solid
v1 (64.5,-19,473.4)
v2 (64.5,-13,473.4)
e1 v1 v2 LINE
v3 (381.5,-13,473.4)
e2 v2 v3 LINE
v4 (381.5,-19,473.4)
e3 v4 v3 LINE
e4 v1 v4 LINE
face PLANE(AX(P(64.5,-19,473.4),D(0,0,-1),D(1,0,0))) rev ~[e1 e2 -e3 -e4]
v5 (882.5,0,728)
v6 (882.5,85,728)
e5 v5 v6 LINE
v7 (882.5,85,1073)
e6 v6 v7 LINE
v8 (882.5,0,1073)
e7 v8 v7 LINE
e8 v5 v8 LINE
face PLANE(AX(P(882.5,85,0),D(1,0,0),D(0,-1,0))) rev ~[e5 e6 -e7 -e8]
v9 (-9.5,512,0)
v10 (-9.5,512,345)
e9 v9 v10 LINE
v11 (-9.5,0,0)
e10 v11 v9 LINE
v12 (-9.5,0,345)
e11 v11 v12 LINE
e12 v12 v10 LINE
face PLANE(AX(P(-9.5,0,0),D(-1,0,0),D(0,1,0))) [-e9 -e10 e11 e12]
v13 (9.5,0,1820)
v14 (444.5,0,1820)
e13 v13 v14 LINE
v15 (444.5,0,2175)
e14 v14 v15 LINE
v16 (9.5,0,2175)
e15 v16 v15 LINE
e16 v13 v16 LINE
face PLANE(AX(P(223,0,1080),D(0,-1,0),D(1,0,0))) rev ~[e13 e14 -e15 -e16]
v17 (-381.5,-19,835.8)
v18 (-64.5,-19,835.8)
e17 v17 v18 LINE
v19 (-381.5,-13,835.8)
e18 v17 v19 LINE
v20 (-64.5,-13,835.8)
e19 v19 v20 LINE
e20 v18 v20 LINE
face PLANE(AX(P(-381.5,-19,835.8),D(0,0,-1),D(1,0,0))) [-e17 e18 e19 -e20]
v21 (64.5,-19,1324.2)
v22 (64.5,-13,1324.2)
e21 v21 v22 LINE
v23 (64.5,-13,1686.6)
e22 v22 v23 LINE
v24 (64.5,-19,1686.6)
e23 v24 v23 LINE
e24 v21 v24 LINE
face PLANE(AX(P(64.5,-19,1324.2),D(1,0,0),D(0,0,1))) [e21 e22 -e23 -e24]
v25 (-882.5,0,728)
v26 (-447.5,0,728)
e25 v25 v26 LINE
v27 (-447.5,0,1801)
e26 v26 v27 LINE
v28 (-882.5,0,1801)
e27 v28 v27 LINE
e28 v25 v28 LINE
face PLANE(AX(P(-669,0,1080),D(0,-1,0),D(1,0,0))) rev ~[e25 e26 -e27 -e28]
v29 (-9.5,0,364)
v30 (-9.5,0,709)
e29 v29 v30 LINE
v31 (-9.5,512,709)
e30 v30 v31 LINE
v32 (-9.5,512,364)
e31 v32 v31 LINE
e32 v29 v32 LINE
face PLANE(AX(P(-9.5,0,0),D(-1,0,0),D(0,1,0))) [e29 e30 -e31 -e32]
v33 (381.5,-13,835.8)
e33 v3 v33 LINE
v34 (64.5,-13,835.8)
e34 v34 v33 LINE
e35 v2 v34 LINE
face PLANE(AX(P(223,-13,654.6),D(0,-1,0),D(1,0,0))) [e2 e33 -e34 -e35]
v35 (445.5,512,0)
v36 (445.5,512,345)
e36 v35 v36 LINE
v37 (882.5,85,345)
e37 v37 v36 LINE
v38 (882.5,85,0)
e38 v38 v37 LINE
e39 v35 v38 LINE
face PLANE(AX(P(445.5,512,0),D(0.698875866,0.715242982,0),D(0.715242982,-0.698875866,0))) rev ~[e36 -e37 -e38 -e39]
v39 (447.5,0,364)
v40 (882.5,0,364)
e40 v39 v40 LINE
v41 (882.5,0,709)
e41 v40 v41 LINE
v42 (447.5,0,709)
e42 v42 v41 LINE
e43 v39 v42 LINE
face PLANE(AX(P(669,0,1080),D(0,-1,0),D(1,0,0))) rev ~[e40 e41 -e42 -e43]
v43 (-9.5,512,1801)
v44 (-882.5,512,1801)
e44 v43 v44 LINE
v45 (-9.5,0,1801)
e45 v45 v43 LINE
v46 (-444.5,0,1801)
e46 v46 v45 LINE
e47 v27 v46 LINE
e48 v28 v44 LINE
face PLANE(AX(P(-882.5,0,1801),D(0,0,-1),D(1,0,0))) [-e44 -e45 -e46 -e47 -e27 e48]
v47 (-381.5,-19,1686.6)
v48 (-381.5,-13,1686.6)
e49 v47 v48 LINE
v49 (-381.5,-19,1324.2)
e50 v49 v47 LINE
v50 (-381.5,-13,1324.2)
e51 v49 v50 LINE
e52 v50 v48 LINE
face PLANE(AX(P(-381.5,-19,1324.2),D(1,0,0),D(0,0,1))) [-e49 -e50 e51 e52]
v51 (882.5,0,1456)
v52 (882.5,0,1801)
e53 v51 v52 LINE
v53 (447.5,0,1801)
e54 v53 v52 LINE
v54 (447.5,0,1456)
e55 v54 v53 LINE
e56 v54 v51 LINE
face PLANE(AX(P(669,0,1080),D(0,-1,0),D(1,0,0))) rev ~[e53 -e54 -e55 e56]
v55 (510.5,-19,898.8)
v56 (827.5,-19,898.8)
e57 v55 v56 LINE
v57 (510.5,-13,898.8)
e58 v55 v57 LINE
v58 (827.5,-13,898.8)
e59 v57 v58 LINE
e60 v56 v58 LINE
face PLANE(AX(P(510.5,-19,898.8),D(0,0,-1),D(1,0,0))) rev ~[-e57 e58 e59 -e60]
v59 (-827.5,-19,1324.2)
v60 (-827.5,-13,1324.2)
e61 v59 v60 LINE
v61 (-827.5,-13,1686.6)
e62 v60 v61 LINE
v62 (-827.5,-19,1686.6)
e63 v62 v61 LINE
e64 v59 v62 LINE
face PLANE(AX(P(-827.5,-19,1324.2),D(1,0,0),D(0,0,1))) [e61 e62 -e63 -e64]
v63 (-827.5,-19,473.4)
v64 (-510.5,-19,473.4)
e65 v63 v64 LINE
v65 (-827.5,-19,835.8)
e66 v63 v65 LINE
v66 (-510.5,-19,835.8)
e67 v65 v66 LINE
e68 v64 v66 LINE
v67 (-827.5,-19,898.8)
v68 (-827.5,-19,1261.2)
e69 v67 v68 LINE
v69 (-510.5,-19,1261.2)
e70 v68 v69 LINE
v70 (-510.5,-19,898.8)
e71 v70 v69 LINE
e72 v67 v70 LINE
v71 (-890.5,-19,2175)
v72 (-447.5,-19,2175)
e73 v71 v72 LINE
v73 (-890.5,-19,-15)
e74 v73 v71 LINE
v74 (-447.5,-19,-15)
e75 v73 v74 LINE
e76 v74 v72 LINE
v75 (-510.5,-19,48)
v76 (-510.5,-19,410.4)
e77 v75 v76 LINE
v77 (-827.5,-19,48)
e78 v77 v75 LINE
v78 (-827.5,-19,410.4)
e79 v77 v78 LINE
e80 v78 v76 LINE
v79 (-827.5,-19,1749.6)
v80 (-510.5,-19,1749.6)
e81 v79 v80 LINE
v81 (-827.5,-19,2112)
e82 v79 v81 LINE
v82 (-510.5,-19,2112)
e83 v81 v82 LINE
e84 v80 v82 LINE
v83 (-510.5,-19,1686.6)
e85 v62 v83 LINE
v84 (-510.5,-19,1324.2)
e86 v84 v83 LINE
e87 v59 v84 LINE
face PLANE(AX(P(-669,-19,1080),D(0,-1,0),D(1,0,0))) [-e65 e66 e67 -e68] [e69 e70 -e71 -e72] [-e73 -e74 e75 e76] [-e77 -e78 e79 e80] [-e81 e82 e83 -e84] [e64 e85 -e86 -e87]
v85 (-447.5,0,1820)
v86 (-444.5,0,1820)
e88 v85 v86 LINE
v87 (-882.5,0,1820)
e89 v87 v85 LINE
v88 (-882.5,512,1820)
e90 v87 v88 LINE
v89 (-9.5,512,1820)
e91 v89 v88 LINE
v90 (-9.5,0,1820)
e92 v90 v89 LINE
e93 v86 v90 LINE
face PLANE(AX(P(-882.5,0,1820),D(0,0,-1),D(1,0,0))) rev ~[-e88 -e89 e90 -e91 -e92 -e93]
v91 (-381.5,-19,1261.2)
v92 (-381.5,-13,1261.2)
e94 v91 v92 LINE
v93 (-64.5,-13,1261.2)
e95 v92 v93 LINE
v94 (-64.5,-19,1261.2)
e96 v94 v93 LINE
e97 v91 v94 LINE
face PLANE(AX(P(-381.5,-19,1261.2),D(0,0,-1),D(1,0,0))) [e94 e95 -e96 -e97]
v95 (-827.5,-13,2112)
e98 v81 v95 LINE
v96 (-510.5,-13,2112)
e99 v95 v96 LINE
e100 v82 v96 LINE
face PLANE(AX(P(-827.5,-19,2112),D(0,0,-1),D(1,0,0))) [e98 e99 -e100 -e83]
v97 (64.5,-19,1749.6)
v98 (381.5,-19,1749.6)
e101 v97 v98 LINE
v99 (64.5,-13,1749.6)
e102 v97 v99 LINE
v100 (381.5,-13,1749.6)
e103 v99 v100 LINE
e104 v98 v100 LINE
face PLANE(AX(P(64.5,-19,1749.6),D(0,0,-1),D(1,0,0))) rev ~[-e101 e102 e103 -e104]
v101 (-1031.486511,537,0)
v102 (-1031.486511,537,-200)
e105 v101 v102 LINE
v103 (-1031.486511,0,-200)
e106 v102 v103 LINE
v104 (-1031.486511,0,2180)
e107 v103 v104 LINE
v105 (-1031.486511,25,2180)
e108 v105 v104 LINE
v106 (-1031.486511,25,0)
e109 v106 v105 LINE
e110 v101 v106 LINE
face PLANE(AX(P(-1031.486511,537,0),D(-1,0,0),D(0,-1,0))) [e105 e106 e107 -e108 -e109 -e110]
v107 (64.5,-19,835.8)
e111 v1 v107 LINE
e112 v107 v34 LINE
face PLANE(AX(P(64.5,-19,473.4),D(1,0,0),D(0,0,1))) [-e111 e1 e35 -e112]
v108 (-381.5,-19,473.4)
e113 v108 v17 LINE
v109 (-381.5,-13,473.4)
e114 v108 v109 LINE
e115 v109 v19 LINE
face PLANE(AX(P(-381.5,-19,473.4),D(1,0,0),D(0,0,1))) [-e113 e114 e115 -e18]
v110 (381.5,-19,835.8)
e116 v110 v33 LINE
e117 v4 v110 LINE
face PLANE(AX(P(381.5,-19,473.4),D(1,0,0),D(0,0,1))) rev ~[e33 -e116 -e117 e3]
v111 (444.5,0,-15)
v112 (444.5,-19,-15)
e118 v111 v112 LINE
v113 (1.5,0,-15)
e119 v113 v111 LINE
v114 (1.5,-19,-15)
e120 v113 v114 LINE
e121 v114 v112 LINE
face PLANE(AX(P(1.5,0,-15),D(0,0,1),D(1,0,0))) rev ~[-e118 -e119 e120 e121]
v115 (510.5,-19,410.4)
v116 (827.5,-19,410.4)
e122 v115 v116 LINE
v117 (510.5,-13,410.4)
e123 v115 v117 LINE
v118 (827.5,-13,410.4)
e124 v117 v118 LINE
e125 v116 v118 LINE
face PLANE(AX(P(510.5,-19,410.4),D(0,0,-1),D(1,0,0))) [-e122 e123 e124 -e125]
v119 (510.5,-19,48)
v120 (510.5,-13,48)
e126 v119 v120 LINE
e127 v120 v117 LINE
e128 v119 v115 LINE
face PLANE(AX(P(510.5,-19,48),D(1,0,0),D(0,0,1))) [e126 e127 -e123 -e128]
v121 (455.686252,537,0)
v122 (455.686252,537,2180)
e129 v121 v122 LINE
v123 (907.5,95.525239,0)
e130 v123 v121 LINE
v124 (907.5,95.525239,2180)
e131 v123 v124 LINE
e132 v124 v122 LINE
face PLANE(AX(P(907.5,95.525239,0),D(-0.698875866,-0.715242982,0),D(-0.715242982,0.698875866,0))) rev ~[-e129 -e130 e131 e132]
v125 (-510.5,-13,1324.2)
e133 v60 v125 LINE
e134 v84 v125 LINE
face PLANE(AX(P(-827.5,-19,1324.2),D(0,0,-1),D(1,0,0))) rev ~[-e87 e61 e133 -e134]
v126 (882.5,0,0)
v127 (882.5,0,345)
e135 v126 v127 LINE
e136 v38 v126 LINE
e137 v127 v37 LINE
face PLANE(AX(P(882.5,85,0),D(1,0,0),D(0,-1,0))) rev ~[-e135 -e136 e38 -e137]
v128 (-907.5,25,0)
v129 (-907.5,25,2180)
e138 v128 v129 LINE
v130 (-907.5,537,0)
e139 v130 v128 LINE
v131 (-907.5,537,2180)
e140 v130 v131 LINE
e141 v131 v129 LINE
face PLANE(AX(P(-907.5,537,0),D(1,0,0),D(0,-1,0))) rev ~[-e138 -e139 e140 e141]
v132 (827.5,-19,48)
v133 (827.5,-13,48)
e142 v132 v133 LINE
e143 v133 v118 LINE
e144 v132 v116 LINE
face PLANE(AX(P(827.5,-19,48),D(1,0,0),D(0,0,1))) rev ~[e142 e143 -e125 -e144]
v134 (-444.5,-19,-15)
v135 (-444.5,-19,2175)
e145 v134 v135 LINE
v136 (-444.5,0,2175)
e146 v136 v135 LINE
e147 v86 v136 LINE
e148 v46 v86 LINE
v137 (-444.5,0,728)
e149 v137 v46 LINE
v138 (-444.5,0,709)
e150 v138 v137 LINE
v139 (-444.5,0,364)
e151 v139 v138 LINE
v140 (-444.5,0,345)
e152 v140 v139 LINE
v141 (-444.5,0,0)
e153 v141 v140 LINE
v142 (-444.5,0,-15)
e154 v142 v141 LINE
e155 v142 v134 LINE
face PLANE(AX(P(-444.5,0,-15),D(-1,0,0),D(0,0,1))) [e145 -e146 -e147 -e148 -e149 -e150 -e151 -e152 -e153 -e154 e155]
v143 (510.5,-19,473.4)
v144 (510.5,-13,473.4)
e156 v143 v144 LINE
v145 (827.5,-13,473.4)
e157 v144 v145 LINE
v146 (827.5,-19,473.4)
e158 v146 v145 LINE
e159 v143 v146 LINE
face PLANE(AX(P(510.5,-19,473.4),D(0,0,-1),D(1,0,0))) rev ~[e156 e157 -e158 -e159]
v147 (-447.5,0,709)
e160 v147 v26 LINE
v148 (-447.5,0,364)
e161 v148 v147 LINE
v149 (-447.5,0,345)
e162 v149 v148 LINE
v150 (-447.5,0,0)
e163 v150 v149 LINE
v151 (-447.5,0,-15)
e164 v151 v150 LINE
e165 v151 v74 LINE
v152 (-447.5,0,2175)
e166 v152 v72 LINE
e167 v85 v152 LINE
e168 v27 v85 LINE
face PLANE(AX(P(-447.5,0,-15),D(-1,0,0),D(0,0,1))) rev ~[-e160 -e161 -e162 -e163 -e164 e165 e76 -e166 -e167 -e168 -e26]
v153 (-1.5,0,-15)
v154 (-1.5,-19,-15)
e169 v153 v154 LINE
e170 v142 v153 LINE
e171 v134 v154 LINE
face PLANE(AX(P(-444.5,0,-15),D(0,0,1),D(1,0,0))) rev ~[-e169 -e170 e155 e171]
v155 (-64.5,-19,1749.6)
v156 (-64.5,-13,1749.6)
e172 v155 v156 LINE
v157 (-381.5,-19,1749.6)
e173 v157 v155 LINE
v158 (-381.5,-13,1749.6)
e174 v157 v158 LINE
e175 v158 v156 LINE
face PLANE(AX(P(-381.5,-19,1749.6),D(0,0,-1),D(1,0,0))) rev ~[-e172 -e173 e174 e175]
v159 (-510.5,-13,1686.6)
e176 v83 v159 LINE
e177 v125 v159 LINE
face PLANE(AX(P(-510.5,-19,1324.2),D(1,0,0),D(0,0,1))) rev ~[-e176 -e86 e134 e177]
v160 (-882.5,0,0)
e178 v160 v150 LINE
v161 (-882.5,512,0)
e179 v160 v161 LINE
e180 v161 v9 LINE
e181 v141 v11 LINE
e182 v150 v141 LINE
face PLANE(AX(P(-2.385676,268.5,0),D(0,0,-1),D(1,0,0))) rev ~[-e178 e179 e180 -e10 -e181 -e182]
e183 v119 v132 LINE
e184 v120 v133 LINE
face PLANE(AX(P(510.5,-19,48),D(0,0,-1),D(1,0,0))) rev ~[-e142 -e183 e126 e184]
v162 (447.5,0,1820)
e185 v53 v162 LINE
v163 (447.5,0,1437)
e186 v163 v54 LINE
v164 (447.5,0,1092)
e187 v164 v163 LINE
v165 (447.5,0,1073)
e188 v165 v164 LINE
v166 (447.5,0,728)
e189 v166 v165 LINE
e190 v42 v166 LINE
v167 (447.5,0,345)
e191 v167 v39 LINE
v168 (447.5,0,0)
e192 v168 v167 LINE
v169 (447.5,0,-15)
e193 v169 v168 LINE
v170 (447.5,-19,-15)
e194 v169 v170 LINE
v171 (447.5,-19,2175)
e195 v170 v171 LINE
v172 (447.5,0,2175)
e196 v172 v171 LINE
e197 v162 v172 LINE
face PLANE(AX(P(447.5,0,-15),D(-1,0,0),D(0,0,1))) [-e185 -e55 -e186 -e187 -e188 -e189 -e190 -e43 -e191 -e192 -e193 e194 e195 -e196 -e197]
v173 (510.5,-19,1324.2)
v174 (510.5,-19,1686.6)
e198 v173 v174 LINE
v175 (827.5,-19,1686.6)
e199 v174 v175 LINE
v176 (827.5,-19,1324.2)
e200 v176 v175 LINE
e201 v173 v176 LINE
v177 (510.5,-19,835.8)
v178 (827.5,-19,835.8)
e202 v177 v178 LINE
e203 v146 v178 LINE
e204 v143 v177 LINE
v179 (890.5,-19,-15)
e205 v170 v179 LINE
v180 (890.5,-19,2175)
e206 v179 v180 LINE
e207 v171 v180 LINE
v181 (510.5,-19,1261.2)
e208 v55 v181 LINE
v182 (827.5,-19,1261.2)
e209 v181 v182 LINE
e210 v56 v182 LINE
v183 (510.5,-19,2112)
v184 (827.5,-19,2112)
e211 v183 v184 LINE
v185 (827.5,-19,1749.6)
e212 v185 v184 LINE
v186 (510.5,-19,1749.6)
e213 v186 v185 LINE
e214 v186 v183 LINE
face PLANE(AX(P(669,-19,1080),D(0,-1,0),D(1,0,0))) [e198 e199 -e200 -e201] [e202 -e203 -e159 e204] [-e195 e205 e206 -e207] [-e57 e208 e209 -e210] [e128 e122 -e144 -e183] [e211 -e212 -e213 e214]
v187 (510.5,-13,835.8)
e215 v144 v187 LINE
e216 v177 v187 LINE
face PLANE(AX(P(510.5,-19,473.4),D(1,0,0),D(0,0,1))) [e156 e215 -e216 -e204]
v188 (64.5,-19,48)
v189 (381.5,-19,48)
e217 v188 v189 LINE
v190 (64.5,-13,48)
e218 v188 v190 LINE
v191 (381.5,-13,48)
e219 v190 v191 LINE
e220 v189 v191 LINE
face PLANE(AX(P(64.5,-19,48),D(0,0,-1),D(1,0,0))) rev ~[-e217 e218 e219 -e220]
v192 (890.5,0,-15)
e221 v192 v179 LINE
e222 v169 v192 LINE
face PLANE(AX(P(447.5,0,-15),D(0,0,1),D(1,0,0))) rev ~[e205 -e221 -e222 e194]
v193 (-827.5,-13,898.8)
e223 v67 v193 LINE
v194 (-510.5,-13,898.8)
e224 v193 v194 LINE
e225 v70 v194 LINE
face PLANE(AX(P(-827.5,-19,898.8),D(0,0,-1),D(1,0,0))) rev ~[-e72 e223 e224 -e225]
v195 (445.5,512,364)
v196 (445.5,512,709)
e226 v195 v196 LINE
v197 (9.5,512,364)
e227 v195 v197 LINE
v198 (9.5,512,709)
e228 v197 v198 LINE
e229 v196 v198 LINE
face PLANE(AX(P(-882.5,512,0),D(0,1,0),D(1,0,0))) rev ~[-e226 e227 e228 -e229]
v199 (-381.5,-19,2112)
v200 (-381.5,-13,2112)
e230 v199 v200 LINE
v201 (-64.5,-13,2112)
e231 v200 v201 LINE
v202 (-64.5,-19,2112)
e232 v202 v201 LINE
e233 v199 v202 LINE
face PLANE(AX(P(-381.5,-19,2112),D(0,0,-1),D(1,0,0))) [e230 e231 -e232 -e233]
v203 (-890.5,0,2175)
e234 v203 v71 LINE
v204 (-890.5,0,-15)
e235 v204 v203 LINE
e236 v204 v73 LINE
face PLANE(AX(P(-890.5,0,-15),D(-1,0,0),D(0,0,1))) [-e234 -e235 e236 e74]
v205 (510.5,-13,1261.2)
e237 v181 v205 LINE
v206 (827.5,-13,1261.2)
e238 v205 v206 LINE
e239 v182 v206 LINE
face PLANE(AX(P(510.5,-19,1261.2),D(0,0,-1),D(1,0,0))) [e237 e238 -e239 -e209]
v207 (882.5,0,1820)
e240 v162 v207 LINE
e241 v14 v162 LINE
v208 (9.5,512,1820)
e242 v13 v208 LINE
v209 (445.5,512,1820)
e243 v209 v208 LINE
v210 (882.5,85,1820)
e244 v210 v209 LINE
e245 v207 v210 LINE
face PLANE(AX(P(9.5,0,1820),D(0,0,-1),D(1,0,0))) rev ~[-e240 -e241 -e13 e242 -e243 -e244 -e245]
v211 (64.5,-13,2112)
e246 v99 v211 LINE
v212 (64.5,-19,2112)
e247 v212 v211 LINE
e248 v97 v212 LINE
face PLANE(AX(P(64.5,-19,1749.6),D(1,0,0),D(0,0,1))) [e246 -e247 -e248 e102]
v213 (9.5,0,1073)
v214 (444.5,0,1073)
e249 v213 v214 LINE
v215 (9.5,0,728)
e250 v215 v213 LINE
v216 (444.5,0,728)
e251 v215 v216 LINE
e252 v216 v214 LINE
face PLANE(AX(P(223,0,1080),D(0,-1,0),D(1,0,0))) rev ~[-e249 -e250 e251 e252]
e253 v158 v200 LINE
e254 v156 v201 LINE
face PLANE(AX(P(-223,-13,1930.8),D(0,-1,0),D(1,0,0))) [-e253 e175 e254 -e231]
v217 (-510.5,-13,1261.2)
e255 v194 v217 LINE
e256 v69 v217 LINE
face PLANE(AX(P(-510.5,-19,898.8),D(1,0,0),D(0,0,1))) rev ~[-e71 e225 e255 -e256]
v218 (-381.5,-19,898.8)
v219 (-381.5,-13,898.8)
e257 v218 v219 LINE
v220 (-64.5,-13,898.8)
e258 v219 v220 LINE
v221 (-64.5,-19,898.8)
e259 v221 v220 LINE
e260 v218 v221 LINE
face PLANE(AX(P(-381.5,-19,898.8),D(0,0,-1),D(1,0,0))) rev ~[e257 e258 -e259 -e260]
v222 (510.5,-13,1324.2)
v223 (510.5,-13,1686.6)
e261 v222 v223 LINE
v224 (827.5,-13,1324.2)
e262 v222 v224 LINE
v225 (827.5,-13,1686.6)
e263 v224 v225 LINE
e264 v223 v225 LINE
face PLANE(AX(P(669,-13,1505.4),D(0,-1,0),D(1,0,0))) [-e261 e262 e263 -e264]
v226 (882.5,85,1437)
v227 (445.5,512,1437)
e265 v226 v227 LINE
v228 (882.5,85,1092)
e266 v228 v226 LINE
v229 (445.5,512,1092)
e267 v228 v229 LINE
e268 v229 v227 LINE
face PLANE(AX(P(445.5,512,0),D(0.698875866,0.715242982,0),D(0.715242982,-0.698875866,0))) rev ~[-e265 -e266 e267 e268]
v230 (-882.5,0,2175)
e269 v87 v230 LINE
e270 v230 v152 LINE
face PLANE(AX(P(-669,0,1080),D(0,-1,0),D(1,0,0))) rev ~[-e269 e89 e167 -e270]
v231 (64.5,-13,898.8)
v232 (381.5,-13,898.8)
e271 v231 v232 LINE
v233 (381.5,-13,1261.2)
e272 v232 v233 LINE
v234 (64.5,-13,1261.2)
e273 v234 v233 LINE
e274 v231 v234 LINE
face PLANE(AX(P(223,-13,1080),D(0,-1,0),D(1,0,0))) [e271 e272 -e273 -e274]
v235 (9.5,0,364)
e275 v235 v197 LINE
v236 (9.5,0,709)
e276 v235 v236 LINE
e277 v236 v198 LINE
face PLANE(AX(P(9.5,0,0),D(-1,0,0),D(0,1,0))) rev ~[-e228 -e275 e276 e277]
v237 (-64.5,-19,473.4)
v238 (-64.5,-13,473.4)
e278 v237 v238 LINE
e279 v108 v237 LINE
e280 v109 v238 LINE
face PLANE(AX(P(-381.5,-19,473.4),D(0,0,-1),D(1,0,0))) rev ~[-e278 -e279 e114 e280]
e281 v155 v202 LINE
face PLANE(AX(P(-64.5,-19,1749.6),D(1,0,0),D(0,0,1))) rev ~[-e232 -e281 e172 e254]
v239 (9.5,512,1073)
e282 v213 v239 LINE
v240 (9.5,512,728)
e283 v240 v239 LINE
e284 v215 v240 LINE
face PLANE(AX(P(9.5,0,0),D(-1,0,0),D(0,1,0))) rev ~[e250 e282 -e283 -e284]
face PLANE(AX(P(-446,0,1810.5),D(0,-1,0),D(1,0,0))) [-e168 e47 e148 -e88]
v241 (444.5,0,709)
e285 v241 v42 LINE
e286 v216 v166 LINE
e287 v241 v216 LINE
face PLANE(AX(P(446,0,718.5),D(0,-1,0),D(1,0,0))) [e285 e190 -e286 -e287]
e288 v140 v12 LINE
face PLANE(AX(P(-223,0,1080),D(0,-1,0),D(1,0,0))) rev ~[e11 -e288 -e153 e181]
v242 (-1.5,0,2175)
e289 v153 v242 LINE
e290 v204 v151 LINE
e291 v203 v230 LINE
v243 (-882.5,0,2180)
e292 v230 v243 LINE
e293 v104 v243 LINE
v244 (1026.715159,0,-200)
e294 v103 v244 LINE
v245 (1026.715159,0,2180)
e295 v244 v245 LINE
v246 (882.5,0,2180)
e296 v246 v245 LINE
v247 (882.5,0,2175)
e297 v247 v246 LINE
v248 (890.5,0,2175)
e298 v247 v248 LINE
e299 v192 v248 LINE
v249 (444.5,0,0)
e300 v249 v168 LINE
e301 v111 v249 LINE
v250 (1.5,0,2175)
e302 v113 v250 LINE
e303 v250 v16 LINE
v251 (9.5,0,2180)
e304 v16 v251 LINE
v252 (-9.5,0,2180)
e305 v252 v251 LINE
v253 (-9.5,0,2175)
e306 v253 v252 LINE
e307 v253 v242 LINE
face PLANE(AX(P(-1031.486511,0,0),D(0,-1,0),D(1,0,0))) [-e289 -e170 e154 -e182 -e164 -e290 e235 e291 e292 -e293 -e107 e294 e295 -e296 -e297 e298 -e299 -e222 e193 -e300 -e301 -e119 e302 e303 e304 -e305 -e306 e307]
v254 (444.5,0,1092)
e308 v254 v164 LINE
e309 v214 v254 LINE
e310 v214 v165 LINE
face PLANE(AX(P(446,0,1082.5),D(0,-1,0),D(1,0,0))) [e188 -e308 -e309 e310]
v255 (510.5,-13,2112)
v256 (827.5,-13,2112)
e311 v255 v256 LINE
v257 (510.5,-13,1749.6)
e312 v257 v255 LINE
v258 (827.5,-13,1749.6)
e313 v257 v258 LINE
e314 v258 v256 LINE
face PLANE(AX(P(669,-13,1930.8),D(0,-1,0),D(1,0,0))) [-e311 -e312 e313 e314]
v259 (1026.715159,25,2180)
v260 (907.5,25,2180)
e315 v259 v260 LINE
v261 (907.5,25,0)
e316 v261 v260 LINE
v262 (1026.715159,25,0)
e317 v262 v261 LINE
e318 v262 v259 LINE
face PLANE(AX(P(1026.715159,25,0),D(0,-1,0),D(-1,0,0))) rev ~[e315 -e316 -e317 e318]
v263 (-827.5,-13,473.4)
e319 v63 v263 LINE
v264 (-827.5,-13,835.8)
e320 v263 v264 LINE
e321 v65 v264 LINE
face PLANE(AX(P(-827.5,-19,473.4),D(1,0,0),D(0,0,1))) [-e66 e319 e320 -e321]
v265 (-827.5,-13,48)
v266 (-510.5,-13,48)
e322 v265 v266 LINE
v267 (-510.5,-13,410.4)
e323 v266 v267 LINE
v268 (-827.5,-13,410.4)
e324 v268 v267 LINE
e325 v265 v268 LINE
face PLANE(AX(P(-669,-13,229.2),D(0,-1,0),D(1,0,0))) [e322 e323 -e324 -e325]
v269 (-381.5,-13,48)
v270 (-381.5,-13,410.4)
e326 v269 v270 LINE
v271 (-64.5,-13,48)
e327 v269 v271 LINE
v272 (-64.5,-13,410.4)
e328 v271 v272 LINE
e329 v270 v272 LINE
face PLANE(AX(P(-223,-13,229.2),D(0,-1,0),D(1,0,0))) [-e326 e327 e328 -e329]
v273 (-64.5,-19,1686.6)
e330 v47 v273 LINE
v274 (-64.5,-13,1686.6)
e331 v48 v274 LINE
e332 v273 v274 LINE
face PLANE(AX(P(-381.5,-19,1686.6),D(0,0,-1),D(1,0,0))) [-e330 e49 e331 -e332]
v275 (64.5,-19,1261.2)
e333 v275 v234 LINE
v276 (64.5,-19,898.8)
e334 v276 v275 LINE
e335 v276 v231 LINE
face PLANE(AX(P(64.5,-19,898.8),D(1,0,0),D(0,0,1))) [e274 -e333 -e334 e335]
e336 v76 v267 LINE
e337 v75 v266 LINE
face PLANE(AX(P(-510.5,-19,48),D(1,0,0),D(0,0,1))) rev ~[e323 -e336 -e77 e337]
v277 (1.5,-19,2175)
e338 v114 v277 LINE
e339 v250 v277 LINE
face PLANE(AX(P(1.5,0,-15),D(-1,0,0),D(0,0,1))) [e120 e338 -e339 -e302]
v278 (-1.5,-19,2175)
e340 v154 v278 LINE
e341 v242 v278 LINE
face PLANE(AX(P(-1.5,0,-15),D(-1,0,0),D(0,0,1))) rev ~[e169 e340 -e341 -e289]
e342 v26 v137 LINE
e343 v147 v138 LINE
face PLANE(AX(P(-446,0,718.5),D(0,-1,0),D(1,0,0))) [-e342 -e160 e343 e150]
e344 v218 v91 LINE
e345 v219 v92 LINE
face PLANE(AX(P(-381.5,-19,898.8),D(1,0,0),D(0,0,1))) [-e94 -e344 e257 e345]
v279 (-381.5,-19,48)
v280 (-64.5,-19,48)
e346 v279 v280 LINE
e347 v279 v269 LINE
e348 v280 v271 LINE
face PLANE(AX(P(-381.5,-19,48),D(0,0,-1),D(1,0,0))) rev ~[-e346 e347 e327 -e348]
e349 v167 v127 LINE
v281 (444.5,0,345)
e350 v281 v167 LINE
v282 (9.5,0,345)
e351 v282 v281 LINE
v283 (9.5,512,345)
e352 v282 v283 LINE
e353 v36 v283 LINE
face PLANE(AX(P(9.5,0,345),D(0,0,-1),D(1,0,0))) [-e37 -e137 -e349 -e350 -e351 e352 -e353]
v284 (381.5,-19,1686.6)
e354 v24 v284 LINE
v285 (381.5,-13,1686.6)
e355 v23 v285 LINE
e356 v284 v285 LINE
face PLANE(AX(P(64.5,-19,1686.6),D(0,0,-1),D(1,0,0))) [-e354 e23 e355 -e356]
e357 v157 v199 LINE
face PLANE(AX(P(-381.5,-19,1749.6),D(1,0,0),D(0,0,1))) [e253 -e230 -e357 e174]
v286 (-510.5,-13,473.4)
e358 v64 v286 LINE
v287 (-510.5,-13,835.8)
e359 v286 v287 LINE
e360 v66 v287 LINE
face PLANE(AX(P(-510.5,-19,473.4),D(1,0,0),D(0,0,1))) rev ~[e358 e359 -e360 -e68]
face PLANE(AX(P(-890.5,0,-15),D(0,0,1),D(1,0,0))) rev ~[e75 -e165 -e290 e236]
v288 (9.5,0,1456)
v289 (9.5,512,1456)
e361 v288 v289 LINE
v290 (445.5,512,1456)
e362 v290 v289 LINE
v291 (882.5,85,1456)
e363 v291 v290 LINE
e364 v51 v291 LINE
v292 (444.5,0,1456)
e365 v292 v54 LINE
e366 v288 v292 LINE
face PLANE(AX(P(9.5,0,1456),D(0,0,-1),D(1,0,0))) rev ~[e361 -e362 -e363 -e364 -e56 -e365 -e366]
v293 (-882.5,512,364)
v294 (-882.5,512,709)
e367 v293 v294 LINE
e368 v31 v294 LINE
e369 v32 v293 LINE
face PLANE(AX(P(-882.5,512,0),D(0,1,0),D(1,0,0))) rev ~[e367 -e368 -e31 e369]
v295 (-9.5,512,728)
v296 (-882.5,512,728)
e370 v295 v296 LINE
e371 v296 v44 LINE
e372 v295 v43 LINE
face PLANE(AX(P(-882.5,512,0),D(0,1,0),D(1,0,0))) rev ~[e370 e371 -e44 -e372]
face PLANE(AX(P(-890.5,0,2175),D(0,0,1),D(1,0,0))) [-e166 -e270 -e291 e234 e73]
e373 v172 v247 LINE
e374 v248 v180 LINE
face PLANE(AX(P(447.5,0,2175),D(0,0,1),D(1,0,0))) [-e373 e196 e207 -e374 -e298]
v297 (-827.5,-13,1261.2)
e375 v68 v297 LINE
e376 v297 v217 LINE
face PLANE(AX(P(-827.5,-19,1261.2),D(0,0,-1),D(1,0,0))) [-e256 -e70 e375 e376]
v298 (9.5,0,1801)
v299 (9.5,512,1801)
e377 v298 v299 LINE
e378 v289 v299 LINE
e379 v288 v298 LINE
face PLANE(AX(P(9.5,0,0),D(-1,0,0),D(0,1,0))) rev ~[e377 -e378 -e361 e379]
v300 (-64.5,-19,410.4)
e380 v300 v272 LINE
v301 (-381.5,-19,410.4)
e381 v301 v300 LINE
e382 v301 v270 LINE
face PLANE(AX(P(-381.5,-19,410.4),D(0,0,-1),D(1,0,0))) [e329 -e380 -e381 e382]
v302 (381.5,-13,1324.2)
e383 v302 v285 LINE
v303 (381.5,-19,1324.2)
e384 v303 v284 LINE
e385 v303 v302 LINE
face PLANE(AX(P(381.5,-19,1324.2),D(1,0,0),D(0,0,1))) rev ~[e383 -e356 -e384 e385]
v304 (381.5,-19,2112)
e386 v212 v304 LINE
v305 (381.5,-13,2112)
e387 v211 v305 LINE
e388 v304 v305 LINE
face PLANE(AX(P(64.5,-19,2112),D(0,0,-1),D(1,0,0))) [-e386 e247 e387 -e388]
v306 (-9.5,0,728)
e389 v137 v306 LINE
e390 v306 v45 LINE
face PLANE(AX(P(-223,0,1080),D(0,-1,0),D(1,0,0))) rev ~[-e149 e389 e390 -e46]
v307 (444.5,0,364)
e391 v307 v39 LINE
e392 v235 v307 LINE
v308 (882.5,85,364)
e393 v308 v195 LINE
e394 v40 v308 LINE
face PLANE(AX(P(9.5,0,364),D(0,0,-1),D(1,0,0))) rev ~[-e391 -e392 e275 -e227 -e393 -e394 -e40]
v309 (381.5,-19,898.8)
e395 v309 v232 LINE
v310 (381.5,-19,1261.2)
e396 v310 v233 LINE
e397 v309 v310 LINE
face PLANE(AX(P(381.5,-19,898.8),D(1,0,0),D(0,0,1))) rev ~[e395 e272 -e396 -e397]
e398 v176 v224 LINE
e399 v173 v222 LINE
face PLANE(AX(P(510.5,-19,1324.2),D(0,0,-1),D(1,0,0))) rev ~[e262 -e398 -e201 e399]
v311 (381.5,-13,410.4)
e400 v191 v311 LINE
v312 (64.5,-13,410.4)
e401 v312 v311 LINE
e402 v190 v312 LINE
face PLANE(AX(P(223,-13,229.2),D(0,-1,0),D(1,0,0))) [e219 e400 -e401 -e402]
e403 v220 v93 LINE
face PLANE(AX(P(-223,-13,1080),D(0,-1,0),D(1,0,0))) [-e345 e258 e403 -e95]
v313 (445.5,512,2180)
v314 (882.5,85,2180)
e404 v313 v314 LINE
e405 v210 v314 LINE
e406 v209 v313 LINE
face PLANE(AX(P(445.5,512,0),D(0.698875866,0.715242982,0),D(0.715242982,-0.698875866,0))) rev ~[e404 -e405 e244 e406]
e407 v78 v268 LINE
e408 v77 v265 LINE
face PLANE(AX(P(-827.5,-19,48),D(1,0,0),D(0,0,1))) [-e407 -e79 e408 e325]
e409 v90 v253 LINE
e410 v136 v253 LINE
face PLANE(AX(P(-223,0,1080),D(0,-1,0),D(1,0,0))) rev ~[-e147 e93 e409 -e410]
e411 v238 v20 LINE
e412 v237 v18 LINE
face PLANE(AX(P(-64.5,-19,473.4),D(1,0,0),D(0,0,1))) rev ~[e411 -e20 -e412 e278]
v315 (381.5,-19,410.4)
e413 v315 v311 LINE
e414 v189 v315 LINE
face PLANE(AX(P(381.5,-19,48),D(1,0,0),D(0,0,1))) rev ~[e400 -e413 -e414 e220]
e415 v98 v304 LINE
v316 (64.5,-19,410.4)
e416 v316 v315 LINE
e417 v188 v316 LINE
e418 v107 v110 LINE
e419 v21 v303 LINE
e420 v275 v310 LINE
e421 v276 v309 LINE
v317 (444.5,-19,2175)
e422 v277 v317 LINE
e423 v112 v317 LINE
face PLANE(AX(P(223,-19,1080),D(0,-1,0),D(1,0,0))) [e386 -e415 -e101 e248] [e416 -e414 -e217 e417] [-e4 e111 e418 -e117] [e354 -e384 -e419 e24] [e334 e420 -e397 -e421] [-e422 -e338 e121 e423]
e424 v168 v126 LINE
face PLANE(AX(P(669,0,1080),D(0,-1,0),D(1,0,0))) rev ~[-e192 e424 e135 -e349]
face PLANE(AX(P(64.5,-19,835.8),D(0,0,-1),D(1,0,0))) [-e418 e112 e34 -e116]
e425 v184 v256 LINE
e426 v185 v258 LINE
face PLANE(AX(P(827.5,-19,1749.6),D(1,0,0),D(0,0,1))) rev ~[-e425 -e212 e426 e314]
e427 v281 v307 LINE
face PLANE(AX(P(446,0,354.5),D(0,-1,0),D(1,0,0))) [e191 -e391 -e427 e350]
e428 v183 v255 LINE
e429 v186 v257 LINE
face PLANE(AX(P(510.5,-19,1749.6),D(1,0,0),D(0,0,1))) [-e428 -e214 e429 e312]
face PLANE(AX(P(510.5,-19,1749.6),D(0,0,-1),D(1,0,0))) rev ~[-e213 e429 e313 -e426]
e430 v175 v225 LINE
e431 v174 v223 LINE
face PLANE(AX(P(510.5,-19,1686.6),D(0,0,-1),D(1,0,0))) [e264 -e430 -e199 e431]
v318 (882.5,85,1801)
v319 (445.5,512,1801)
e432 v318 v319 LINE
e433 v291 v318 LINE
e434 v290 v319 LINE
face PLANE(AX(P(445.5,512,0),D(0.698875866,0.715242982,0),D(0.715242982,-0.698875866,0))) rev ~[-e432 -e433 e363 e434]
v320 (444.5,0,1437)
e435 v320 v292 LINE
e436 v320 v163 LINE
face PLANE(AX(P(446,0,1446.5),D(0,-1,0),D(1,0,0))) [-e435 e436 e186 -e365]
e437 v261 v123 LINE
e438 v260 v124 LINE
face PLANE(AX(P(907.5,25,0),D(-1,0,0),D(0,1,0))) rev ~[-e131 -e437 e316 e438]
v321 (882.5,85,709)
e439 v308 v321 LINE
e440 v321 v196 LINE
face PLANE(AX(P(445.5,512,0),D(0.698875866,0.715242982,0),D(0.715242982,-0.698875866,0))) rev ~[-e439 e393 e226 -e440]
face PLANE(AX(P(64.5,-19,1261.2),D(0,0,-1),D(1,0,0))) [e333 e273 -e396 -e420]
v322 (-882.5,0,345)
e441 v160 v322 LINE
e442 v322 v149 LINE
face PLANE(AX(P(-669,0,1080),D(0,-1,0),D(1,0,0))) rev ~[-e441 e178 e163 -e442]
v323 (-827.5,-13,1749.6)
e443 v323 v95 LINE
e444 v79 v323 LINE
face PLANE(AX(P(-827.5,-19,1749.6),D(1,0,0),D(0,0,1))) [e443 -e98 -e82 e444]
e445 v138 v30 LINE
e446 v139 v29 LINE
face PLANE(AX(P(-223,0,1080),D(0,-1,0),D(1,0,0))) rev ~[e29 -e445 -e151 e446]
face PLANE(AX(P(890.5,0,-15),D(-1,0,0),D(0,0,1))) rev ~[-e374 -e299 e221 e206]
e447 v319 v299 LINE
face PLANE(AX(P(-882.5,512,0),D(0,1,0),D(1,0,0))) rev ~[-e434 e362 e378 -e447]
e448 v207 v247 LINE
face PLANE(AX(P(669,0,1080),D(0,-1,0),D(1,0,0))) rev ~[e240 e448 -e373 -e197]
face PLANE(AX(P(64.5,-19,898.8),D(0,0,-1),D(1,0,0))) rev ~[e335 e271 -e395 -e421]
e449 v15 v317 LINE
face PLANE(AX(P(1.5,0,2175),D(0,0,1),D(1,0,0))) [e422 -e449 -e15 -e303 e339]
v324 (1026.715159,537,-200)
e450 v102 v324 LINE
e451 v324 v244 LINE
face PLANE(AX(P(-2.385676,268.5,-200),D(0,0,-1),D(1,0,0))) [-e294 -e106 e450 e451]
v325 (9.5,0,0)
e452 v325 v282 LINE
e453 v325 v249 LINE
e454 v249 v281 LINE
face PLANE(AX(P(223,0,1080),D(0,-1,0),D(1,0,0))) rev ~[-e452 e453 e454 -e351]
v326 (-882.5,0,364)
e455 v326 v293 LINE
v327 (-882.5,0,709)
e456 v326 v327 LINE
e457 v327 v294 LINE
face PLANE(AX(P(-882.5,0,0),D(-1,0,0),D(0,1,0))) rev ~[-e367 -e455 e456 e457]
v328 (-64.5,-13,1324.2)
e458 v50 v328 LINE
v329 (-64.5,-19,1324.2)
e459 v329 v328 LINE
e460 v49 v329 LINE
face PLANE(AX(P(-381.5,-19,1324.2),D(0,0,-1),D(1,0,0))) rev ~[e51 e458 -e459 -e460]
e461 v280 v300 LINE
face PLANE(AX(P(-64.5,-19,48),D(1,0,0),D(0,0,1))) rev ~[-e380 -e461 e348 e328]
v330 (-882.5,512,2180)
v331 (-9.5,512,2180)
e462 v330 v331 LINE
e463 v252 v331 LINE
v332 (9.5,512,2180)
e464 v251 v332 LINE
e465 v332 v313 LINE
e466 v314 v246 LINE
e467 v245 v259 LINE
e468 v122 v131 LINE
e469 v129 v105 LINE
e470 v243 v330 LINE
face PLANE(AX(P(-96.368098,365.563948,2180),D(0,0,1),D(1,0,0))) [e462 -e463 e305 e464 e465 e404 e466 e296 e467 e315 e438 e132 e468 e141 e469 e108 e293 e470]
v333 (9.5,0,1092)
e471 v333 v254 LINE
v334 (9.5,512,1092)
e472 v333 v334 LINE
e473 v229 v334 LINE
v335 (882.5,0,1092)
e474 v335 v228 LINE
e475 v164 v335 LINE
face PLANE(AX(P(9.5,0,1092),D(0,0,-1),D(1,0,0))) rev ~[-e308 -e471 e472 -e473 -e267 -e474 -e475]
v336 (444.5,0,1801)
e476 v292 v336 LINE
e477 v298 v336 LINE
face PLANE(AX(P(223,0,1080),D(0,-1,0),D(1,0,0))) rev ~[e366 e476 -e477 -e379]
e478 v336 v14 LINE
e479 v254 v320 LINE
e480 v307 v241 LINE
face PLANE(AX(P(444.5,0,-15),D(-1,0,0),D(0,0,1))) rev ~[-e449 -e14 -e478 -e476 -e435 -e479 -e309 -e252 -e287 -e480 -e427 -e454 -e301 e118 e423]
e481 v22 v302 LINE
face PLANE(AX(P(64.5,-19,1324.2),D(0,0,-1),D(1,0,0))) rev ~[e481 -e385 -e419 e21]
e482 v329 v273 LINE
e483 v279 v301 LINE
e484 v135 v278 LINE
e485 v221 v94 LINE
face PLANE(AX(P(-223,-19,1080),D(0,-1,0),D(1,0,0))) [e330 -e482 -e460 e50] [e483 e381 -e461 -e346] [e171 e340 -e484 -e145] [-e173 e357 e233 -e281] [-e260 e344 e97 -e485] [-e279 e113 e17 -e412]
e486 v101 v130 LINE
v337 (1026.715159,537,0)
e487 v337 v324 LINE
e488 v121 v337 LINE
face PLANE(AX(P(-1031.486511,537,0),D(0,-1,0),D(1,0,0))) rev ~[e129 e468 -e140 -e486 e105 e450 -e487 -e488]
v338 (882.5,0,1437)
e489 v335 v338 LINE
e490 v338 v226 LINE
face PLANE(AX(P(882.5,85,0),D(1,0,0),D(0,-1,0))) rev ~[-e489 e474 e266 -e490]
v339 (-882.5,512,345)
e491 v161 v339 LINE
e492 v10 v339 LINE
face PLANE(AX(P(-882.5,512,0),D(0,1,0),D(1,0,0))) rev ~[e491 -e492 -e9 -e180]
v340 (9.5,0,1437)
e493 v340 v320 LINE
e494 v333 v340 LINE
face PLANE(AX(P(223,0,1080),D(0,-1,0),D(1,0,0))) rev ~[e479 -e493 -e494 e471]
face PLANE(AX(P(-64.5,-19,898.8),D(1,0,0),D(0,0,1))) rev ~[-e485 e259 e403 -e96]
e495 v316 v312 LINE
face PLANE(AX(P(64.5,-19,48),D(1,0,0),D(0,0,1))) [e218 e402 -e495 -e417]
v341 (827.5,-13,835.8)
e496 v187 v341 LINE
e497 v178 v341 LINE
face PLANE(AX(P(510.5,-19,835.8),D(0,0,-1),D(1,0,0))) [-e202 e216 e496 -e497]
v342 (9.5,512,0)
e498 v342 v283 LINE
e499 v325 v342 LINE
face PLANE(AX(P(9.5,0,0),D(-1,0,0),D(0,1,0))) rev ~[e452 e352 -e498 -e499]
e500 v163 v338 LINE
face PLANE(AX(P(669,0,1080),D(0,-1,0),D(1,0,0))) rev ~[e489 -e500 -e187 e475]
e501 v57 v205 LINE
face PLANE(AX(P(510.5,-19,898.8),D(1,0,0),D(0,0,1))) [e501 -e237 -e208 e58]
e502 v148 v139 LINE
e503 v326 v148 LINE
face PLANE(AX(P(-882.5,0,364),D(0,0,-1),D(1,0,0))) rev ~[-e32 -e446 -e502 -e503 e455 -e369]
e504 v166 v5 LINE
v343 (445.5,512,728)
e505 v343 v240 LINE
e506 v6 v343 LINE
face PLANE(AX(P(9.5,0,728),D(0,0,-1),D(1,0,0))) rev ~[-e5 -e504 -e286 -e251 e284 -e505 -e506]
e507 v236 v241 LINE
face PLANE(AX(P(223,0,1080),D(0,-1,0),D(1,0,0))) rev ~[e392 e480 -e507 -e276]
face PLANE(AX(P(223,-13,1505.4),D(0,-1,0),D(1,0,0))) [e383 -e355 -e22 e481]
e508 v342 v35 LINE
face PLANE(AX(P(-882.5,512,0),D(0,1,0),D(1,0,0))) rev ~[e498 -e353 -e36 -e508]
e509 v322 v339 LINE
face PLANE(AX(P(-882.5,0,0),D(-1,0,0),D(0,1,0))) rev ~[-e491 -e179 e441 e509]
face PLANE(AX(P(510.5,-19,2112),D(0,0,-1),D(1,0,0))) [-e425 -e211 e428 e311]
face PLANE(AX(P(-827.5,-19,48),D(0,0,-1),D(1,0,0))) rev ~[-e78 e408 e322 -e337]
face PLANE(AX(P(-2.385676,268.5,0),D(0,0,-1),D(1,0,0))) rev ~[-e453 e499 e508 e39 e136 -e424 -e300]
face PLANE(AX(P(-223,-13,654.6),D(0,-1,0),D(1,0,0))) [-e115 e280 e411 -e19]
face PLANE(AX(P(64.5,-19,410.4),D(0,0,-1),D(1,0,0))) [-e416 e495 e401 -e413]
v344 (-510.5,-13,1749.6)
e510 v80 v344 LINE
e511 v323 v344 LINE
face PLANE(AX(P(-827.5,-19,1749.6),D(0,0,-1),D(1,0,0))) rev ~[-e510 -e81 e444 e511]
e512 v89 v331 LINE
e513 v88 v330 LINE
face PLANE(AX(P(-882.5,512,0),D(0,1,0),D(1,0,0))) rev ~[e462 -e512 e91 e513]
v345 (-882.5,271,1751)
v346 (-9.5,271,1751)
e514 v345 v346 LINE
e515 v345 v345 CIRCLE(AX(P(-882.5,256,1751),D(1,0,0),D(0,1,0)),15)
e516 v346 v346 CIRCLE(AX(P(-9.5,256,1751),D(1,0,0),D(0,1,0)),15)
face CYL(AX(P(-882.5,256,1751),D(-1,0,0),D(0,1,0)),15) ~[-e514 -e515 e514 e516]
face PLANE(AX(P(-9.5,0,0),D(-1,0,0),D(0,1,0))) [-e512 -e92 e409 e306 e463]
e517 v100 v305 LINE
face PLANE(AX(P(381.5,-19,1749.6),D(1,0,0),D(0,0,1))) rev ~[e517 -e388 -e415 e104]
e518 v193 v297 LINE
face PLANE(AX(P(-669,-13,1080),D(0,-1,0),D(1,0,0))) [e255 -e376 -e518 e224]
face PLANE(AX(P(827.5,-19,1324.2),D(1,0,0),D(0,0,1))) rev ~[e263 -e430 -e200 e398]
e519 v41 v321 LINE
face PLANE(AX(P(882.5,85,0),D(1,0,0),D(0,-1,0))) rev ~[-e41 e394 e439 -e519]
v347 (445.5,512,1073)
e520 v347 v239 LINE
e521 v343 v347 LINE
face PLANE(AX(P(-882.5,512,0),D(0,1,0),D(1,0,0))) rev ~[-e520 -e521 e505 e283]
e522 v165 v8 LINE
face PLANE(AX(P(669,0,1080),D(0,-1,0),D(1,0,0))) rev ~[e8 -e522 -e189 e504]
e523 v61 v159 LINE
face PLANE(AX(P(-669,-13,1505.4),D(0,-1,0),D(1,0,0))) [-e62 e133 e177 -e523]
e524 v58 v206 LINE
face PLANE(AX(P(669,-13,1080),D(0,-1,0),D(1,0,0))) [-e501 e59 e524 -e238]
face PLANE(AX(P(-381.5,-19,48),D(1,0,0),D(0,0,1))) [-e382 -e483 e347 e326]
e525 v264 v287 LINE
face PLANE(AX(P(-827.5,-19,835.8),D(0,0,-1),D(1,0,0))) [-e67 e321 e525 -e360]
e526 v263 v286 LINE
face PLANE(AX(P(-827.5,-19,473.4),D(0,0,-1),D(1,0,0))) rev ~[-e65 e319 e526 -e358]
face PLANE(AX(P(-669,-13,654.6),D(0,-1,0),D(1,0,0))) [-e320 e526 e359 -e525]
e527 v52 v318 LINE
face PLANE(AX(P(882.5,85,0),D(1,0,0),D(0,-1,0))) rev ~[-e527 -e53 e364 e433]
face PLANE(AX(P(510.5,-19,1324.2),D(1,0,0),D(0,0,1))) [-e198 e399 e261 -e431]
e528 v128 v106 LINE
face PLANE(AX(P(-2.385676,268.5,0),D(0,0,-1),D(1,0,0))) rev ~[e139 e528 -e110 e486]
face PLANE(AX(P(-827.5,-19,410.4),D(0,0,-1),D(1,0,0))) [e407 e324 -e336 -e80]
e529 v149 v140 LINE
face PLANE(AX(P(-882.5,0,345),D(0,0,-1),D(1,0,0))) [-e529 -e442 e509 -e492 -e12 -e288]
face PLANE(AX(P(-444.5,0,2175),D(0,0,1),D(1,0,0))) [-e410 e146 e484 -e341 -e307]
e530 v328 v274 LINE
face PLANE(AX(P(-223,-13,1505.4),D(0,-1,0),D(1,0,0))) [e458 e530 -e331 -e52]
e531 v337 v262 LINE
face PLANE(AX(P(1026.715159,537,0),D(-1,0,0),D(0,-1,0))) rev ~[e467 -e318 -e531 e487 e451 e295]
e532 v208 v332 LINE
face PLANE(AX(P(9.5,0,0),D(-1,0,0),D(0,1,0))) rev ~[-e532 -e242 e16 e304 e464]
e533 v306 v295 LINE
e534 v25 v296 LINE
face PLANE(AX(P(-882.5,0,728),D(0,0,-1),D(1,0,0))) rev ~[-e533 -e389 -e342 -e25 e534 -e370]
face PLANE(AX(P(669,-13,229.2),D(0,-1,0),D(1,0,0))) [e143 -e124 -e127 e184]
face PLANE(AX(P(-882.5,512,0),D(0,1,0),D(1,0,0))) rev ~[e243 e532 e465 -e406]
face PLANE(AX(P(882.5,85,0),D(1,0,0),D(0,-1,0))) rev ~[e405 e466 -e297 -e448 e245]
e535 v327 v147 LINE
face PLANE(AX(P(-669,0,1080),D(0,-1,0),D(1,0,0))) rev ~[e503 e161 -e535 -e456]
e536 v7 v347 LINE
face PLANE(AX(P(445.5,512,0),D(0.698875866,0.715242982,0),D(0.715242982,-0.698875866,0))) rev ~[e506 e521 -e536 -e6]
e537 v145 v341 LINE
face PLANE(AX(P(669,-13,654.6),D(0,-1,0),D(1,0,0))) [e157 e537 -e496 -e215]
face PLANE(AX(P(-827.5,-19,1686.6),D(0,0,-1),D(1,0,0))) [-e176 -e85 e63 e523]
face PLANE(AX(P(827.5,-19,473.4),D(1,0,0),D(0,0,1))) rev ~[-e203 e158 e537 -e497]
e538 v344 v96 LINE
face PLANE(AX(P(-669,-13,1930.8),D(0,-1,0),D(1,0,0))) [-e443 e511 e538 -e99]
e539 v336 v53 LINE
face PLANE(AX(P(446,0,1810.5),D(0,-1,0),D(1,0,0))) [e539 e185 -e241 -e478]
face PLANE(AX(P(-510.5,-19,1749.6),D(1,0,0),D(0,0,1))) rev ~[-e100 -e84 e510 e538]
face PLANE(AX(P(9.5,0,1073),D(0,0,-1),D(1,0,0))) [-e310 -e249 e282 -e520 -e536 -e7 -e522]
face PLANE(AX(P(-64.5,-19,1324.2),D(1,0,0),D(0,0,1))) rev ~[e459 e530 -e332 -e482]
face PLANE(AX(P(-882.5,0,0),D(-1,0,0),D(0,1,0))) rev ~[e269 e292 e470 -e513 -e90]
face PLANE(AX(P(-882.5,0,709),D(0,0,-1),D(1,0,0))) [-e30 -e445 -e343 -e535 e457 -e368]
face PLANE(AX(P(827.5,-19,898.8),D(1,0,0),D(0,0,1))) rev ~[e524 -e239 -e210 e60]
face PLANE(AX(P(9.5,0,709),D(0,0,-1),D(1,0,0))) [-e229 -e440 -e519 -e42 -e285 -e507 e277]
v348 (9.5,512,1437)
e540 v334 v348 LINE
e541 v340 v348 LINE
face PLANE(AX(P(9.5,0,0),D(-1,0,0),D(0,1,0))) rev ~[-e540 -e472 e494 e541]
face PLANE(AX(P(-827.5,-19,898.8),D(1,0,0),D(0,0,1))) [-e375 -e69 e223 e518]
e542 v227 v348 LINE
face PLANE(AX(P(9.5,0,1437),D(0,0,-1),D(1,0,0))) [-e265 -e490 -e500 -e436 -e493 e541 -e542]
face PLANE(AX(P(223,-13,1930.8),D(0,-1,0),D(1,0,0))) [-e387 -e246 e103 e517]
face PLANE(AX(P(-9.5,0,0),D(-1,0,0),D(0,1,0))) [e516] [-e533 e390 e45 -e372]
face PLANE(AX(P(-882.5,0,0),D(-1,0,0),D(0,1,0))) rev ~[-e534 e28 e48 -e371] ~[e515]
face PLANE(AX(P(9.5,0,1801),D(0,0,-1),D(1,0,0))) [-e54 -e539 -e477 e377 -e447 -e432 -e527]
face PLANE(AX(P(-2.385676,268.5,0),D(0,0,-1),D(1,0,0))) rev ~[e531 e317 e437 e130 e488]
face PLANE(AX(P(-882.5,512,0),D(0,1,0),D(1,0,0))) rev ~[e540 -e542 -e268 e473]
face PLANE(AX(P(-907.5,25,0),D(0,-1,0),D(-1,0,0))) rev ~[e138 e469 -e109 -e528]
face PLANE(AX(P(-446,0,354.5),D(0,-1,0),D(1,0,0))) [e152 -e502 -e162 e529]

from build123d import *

# Parameters (mm, degrees)
F1_DEPTH  = 2180
F2_W      = 2058.2016706467
F2_H      = 537
F3_DEPTH  = 200
F4_W      = 19
F4_H      = 512
F5_DEPTH  = 2180
F6_W      = 443
F6_H      = 2190
F7_DEPTH  = 19
F8_W      = 317
F8_H      = 362.4
F9_DEPTH  = 6
F10_W     = 873
F10_H     = 19
F12_R     = 15
F13_DEPTH = 873


with BuildPart() as f1:
    # F0 (on Top) → F1 (new body)
    with BuildSketch(Plane.XY):
        Polygon((-1031.4865112305, 0), (-882.5, 0), (-882.5, 512), (445.5, 512), (882.5, 85), (882.5, 0), (1026.7151594162, 0), (1026.7151594162, 25), (907.5, 25), (907.5, 95.5252390221), (455.6862516456, 537), (-907.5, 537), (-907.5, 25), (-1031.4865112305, 25), align=None)
    extrude(amount=F1_DEPTH)

    # F2 (on face) → F3 (join)
    with BuildSketch(Plane(origin=(0, 0, 0), x_dir=(1, 0, 0), z_dir=(0, 0, -1))):
        with Locations((-2.3856759071, -268.5)):
            Rectangle(F2_W, F2_H)
    extrude(amount=F3_DEPTH)

    # F4 (on face) → F5 (join, through all)
    with BuildSketch(Plane.XY):
        with Locations((0, 256)):
            Rectangle(F4_W, F4_H)
    extrude(amount=F5_DEPTH)

    # F6 (on face) → F7 (join)
    with BuildSketch(Plane.XZ):
        with Locations((-223, 1080)):
            Rectangle(F6_W, F6_H)
        with Locations((-669, 1080)):
            Rectangle(F6_W, F6_H)
        with Locations((223, 1080)):
            Rectangle(F6_W, F6_H)
        with Locations((669, 1080)):
            Rectangle(F6_W, F6_H)
    extrude(amount=F7_DEPTH)

    # F8 (on face) → F9 (cut)
    with BuildSketch(Plane.XZ.offset(19)):
        with Locations((-669, 1930.8)):
            Rectangle(F8_W, F8_H)
        with Locations((-669, 1505.4)):
            Rectangle(F8_W, F8_H)
        with Locations((-669, 1080)):
            Rectangle(F8_W, F8_H)
        with Locations((-669, 654.6)):
            Rectangle(F8_W, F8_H)
        with Locations((-669, 229.2)):
            Rectangle(F8_W, F8_H)
        with Locations((-223, 1930.8)):
            Rectangle(F8_W, F8_H)
        with Locations((223, 1930.8)):
            Rectangle(F8_W, F8_H)
        with Locations((669, 1930.8)):
            Rectangle(F8_W, F8_H)
        with Locations((-223, 1505.4)):
            Rectangle(F8_W, F8_H)
        with Locations((223, 1505.4)):
            Rectangle(F8_W, F8_H)
        with Locations((669, 1505.4)):
            Rectangle(F8_W, F8_H)
        with Locations((-223, 1080)):
            Rectangle(F8_W, F8_H)
        with Locations((223, 1080)):
            Rectangle(F8_W, F8_H)
        with Locations((669, 1080)):
            Rectangle(F8_W, F8_H)
        with Locations((-223, 654.6)):
            Rectangle(F8_W, F8_H)
        with Locations((223, 654.6)):
            Rectangle(F8_W, F8_H)
        with Locations((669, 654.6)):
            Rectangle(F8_W, F8_H)
        with Locations((-223, 229.2)):
            Rectangle(F8_W, F8_H)
        with Locations((223, 229.2)):
            Rectangle(F8_W, F8_H)
        with Locations((669, 229.2)):
            Rectangle(F8_W, F8_H)
    extrude(amount=-F9_DEPTH, mode=Mode.SUBTRACT)

    # F10 (on face) → F11 (join, up to the next surface of F1)
    with BuildSketch(Plane.XZ):
        with Locations((-446, 354.5)):
            Rectangle(F10_W, F10_H)
        with Locations((-446, 1810.5)):
            Rectangle(F10_W, F10_H)
        with Locations((-446, 718.5)):
            Rectangle(F10_W, F10_H)
        with Locations((446, 354.5)):
            Rectangle(F10_W, F10_H)
        with Locations((446, 718.5)):
            Rectangle(F10_W, F10_H)
        with Locations((446, 1082.5)):
            Rectangle(F10_W, F10_H)
        with Locations((446, 1446.5)):
            Rectangle(F10_W, F10_H)
        with Locations((446, 1810.5)):
            Rectangle(F10_W, F10_H)
    extrude(until=Until.NEXT, dir=(0, 1, 0))

    # F12 (on face) → F13 (join, through all)
    with BuildSketch(Plane.YZ.offset(-882.5)):
        with Locations((256, 1751)):
            Circle(F12_R)
    extrude(amount=F13_DEPTH)


solid = f1.part
